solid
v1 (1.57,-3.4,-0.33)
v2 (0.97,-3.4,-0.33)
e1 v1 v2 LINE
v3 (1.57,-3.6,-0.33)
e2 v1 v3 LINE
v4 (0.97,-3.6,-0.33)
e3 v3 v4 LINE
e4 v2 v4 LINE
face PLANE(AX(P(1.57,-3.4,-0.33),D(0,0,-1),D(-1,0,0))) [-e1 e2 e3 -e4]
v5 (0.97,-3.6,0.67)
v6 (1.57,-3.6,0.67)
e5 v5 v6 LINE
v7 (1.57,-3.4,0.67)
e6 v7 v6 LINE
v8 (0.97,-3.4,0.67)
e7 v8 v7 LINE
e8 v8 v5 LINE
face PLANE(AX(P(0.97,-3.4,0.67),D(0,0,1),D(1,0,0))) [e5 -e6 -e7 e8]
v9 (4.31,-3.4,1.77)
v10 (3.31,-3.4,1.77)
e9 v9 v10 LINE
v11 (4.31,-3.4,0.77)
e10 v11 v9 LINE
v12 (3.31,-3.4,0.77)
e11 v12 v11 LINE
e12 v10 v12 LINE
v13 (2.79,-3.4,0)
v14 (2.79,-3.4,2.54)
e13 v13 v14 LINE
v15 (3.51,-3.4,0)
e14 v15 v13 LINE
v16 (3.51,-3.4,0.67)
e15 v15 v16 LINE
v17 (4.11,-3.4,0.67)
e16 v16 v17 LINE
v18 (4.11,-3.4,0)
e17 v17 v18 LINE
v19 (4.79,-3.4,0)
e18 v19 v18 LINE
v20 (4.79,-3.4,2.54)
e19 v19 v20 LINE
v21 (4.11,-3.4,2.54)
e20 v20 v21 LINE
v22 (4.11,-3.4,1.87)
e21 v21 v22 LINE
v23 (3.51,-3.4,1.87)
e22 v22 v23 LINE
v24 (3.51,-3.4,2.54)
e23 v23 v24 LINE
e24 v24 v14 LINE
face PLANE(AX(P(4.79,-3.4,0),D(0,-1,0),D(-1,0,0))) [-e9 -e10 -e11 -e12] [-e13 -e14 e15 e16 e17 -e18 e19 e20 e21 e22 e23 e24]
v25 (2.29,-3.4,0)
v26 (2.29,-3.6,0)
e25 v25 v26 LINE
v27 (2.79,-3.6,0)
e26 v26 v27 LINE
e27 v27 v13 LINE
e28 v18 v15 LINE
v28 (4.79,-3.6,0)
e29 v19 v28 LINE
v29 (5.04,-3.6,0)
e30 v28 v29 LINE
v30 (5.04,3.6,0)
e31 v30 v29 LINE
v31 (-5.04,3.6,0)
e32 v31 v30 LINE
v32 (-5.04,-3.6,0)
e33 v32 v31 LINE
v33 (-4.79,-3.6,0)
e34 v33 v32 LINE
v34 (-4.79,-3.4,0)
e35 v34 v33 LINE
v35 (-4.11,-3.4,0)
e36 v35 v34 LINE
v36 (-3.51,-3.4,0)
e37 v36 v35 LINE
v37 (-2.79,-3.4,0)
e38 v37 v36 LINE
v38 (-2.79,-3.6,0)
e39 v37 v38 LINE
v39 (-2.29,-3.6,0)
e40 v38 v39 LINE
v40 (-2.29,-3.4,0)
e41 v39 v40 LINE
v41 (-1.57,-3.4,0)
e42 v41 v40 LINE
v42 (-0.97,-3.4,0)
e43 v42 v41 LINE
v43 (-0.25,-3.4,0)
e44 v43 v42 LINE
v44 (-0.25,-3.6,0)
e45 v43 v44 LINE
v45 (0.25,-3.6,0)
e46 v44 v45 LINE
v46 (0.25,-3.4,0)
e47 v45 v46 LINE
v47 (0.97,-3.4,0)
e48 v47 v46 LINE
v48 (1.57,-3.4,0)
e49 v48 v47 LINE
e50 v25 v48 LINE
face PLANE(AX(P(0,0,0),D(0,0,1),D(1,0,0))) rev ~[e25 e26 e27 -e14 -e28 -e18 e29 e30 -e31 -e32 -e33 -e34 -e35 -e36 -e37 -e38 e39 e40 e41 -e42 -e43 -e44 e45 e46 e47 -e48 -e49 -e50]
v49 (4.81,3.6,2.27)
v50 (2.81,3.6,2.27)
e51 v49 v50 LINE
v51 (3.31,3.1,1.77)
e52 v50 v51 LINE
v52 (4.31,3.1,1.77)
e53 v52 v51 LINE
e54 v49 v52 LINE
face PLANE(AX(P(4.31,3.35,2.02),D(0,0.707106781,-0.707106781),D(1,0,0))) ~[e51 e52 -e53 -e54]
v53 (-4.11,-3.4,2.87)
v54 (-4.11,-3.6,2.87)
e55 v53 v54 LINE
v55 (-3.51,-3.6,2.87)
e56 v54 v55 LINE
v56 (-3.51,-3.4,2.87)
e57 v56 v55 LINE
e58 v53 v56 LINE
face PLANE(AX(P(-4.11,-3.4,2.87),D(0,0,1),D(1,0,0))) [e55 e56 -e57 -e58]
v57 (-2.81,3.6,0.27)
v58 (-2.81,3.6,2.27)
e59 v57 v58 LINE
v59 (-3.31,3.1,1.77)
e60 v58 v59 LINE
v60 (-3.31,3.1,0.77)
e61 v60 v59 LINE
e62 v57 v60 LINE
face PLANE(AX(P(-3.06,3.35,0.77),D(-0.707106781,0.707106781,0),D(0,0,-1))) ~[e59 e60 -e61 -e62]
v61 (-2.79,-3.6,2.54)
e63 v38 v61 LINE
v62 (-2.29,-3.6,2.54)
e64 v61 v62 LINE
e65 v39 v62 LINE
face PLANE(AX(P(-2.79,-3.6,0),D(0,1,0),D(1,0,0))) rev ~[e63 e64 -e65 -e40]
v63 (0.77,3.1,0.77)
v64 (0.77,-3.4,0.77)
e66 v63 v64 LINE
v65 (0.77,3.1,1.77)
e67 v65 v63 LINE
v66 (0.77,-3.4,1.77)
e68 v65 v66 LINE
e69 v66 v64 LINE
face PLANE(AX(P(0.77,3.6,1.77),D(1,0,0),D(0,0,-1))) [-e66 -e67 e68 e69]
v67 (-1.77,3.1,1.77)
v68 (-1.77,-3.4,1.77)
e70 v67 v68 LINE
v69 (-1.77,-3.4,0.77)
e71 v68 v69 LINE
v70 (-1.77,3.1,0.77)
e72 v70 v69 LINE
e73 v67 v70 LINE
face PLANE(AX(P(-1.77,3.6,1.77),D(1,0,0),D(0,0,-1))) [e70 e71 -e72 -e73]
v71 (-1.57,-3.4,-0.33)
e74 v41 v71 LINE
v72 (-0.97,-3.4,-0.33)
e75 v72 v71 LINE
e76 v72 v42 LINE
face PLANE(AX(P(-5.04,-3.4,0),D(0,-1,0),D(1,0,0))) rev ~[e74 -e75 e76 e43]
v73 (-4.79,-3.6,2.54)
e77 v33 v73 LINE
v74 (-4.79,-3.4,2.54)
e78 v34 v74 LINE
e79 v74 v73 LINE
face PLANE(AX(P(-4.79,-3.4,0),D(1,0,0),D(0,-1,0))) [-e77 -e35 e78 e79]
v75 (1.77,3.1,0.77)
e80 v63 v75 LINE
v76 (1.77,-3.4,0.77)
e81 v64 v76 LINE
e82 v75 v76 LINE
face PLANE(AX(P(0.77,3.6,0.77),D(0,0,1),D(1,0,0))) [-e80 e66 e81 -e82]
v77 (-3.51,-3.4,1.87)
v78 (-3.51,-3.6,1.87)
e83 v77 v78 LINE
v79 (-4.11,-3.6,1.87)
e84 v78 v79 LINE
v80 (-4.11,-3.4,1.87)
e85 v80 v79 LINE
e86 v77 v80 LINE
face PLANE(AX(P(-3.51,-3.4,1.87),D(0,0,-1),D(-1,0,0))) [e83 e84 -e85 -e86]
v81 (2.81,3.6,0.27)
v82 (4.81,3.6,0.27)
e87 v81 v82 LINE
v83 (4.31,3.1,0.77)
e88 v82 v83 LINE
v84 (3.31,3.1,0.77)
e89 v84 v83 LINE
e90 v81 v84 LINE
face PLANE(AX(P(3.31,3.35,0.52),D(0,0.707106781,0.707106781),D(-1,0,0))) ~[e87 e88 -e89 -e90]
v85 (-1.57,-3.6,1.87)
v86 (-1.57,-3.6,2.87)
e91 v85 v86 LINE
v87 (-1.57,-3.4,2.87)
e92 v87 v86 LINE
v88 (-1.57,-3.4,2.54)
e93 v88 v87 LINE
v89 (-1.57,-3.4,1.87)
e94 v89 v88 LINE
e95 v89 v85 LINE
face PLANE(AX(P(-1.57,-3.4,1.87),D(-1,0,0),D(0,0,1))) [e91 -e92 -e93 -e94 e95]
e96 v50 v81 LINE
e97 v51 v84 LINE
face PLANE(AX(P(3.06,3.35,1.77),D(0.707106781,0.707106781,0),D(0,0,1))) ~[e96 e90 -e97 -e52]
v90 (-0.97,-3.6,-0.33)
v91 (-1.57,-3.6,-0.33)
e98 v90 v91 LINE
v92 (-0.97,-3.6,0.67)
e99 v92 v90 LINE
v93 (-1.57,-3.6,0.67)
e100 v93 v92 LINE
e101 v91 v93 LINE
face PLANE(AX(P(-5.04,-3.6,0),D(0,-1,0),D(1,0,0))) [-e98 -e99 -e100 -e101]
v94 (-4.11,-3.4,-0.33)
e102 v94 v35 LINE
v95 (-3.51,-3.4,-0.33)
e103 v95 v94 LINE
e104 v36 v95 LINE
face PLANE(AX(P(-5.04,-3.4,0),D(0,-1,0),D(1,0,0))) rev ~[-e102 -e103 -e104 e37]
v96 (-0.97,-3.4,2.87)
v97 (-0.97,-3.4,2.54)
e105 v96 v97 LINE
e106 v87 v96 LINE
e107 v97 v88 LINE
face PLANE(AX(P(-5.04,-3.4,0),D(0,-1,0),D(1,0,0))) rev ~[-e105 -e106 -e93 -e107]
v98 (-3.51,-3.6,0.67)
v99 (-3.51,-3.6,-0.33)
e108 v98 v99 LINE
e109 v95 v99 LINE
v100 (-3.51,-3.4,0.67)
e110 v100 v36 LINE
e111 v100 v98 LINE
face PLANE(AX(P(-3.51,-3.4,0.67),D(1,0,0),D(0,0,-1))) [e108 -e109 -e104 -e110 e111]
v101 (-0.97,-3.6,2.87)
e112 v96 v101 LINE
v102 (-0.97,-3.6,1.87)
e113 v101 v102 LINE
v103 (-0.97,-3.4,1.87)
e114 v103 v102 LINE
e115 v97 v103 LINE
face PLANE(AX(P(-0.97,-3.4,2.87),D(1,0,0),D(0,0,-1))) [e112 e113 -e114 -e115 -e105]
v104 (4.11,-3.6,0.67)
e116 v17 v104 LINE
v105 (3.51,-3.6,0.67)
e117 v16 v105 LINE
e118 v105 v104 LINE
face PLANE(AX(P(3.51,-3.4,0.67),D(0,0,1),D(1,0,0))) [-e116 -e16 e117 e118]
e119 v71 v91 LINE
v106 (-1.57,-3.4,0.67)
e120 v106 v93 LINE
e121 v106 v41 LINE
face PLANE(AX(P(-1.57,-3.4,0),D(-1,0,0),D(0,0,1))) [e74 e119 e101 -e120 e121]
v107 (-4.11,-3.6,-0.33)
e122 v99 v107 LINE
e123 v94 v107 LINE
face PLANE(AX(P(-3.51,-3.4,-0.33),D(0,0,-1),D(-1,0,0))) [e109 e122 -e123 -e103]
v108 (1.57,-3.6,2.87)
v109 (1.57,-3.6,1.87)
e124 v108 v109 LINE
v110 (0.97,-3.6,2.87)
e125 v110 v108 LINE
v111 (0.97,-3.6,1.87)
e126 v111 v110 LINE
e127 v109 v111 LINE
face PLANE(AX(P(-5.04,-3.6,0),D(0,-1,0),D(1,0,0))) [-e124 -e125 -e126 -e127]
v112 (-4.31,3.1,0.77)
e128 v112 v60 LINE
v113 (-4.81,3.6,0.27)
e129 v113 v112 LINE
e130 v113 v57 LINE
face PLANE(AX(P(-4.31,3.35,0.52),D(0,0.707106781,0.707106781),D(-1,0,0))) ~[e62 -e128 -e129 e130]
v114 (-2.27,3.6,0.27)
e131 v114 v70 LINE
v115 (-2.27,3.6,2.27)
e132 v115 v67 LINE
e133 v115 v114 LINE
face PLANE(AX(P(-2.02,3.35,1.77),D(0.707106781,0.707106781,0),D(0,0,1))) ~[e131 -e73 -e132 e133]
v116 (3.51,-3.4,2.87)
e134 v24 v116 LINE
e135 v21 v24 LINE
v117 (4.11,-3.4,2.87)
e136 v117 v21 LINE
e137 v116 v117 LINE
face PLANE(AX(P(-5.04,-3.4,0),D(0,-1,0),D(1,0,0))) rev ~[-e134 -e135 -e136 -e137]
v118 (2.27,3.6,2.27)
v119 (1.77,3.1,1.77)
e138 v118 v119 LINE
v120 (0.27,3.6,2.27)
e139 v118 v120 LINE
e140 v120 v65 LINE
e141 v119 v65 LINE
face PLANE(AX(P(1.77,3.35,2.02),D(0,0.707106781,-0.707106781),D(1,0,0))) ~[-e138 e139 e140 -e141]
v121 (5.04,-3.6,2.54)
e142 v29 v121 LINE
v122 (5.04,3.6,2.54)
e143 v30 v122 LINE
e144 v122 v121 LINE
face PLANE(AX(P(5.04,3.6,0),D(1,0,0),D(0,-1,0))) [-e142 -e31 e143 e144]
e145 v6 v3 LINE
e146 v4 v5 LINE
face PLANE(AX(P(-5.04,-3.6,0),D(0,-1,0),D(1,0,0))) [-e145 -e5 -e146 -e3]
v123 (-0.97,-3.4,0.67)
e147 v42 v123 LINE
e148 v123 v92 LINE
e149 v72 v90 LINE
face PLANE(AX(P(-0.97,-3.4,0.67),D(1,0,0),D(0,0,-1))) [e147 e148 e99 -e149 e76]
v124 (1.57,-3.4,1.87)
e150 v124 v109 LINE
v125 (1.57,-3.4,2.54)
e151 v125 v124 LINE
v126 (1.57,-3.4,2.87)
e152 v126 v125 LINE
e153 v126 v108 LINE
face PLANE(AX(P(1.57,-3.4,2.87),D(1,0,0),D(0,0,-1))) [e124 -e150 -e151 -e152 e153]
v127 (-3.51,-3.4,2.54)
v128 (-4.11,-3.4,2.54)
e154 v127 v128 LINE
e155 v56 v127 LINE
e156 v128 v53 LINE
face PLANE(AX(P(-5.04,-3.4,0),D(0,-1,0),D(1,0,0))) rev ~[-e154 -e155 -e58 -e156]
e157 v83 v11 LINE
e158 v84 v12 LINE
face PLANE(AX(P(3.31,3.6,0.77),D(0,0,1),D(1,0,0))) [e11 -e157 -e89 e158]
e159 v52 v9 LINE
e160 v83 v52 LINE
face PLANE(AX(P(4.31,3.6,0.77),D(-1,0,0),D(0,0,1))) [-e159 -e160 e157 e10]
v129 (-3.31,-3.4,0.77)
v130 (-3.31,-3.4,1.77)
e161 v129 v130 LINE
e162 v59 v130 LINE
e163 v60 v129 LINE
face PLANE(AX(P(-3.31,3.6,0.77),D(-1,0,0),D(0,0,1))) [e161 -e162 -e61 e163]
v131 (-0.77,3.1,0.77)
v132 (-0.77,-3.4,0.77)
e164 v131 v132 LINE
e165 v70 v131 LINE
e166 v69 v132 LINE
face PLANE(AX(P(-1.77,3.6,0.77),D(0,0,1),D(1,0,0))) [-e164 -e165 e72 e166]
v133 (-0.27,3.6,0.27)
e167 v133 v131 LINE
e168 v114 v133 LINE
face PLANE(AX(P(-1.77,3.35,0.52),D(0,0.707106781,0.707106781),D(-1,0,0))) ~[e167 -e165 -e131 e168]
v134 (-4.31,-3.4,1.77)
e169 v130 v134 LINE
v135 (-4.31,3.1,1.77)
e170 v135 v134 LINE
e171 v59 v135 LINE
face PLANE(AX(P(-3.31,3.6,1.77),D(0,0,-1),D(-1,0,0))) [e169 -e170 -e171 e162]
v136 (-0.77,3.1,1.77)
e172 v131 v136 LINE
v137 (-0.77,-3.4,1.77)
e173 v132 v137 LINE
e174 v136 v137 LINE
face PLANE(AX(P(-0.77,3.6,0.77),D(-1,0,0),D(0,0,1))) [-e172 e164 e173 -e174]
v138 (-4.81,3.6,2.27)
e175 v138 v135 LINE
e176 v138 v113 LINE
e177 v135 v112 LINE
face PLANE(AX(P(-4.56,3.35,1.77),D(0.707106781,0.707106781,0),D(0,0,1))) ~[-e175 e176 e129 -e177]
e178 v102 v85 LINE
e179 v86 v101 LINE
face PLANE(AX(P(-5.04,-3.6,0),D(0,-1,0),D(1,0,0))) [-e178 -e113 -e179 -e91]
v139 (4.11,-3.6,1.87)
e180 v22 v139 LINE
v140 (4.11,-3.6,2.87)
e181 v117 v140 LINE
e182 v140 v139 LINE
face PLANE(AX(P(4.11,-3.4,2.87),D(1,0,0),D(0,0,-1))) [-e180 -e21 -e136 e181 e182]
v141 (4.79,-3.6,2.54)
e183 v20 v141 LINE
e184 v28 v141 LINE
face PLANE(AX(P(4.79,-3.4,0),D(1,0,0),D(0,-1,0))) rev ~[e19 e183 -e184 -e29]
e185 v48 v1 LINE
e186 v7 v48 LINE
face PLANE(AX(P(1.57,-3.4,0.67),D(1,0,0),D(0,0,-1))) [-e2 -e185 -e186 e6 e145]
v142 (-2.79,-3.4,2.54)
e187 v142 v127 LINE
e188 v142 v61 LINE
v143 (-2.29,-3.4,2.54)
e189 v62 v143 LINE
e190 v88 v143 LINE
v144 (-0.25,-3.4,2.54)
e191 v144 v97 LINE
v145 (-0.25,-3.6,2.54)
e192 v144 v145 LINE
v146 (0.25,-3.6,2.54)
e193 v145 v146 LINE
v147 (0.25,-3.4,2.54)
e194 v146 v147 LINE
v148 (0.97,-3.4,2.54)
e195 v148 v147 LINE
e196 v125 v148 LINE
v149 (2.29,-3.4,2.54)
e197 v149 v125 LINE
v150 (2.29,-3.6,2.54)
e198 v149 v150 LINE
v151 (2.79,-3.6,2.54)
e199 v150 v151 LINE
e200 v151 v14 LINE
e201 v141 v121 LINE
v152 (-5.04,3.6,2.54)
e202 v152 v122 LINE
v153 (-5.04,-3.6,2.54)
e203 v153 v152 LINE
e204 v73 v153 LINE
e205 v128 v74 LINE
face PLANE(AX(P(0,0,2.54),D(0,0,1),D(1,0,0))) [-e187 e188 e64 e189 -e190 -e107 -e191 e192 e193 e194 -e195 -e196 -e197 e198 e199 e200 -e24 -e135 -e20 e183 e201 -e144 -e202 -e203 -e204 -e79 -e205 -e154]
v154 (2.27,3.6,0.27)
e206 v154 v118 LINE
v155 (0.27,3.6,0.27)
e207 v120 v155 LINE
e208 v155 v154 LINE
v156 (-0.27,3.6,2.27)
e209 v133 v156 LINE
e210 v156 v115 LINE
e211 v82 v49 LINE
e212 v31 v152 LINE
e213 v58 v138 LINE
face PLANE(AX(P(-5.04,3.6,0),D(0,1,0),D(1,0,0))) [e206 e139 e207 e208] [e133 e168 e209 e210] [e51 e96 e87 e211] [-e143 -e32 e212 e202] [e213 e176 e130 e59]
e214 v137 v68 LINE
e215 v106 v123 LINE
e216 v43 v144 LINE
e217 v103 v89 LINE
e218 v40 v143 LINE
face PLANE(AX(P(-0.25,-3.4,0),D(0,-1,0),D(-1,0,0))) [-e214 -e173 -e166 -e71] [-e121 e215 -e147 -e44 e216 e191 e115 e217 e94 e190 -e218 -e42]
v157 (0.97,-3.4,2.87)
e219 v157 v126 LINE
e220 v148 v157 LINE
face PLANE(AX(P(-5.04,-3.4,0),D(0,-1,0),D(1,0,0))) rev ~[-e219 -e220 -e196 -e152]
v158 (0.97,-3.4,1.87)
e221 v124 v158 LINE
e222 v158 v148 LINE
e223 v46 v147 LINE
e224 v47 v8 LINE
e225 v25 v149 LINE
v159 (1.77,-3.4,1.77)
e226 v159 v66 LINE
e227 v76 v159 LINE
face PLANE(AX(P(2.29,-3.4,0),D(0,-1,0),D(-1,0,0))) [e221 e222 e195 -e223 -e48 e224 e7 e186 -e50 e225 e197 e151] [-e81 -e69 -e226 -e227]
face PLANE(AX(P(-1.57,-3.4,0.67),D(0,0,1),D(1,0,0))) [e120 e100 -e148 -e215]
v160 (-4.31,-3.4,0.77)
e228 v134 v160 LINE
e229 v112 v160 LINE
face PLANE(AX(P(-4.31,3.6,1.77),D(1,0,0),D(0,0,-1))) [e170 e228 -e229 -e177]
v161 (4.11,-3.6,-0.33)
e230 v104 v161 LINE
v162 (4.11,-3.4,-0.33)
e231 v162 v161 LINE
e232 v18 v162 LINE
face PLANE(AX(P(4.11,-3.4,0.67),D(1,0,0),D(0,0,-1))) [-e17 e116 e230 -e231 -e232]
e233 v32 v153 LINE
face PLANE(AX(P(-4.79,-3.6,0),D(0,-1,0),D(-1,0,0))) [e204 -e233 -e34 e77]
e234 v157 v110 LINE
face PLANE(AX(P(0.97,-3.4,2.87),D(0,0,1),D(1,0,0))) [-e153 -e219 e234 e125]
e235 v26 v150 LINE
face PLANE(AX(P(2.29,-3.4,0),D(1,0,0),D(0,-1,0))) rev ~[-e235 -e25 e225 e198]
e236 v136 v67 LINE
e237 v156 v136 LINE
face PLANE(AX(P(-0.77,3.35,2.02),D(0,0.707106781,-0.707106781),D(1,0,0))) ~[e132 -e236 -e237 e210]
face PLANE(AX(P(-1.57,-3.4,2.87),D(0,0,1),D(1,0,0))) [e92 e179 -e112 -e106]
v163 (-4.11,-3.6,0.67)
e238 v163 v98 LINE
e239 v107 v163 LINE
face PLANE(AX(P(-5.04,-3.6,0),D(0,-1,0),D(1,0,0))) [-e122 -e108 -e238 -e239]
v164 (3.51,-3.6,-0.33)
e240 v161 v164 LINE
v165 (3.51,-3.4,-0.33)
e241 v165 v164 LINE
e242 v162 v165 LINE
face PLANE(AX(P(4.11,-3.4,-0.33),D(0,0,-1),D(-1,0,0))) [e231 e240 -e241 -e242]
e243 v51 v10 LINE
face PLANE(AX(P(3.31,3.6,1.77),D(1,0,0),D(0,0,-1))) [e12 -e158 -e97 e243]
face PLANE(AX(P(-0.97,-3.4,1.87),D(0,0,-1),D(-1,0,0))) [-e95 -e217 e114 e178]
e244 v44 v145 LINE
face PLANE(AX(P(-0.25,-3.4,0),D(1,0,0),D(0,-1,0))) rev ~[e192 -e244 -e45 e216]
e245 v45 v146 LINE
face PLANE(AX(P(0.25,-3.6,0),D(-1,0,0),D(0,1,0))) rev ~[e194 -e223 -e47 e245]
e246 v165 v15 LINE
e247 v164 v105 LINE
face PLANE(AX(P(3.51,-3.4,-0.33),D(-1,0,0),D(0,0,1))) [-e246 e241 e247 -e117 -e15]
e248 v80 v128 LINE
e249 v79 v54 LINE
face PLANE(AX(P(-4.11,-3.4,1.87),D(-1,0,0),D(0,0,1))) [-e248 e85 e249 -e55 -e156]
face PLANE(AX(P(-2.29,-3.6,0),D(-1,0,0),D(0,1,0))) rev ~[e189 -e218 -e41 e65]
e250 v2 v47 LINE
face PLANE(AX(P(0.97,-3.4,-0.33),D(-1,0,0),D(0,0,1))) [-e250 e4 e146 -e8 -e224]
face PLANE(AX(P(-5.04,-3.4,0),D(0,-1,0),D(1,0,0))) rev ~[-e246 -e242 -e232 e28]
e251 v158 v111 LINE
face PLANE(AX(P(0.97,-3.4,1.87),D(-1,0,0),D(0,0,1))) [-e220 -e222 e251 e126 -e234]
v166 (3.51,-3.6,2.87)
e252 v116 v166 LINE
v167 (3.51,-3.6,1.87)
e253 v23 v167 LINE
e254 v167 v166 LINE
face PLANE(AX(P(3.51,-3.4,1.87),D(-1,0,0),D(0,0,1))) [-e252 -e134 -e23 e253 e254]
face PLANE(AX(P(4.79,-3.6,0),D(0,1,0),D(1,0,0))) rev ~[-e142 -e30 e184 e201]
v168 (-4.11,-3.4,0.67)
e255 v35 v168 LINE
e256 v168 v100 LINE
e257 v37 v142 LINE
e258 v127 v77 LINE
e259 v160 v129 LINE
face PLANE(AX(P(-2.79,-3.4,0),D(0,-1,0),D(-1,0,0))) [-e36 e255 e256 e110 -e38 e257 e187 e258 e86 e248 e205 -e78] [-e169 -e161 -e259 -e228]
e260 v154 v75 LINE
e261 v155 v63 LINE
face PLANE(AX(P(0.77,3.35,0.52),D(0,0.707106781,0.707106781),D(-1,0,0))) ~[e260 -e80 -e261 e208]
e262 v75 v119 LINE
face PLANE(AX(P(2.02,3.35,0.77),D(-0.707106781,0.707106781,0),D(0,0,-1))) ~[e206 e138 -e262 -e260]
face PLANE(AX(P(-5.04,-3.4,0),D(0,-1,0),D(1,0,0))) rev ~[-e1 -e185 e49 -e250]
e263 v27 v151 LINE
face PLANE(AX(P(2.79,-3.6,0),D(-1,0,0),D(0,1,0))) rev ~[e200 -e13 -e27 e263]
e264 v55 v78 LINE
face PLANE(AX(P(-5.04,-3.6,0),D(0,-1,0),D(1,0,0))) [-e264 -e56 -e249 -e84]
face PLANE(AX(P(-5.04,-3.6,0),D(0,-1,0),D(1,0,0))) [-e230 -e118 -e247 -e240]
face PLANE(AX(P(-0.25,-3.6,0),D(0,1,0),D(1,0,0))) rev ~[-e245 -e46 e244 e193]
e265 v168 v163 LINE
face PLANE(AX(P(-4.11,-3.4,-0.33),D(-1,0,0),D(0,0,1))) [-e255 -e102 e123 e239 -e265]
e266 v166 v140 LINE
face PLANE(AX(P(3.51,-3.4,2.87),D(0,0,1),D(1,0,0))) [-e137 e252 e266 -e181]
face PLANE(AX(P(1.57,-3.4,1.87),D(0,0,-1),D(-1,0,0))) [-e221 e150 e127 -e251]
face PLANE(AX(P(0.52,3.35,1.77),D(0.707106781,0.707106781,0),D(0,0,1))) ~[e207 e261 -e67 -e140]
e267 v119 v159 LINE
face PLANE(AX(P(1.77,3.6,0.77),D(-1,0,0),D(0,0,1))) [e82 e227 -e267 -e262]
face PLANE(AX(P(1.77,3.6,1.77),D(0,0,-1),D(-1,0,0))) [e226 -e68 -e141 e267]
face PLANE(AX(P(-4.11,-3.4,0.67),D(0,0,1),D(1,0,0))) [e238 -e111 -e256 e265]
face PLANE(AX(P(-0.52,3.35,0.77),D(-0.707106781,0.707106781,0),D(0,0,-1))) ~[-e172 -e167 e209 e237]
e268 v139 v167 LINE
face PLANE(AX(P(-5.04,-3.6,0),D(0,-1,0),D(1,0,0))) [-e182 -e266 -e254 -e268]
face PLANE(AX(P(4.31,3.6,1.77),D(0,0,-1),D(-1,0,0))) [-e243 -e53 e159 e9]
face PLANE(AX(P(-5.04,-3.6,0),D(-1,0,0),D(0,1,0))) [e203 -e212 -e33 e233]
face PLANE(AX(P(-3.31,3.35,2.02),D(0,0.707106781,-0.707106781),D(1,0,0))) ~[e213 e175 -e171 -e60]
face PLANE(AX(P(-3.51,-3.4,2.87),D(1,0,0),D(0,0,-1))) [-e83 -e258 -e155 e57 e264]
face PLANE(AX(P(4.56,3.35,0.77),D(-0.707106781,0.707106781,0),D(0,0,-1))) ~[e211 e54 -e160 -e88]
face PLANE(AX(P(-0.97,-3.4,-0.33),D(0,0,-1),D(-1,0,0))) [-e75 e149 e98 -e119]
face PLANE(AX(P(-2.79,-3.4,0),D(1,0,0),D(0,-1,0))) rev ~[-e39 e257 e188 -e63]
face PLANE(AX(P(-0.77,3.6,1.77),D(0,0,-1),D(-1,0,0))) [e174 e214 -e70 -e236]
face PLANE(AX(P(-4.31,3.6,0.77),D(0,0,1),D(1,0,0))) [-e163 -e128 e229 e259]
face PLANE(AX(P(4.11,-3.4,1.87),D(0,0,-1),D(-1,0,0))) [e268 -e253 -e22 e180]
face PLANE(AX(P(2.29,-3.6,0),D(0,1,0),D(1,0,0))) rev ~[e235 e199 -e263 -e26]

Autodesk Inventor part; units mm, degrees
ref_plane "YZ Plane" through (0, 0, 0) normal (1, 0, 0) x (0, 1, 0)
ref_plane "XZ Plane" through (0, 0, 0) normal (0, 1, 0) x (-1, 0, 0)
ref_plane "XY Plane" through (0, 0, 0) normal (0, 0, 1) x (1, 0, 0)
sketch "Sketch1" plane through (0, 0, 0) normal (0, 0, 1) x (1, 0, 0)
  line L0 (-5.04, 3.6) -> (5.04, 3.6)
  line L1 (5.04, 3.6) -> (5.04, -3.6)
  line L2 (-5.04, -3.6) -> (-5.04, 3.6)
  line L3 (-2.79, -3.4) -> (-2.79, -3.6)
  line L4 (-2.79, -3.6) -> (-2.29, -3.6)
  line L5 (-2.29, -3.6) -> (-2.29, -3.4)
  line L6 (-0.25, -3.4) -> (-0.25, -3.6)
  line L7 (-0.25, -3.6) -> (0.25, -3.6)
  line L8 (0.25, -3.6) -> (0.25, -3.4)
  line L9 (2.29, -3.4) -> (2.29, -3.6)
  line L10 (2.29, -3.6) -> (2.79, -3.6)
  line L11 (2.79, -3.6) -> (2.79, -3.4)
  line L12 (-2.79, -3.4) -> (-4.79, -3.4)
  line L13 (-0.25, -3.4) -> (-2.29, -3.4)
  line L14 (4.79, -3.4) -> (2.79, -3.4)
  line L15 (2.29, -3.4) -> (0.25, -3.4)
  line L16 (0, 1.3653) -> (0, -1.7187) construction
  line L17 (-4.79, -3.4) -> (-4.79, -3.6)
  line L18 (-4.79, -3.6) -> (-5.04, -3.6)
  line L19 (4.79, -3.4) -> (4.79, -3.6)
  line L20 (4.79, -3.6) -> (5.04, -3.6)
  point P0 (0, 0)
  point P1 (0, 3.6)
  point P2 (-5.04, 0)
  point P3 (0, -3.6)
  point P4 (-2.54, -3.6)
  point P5 (-2.54, -3.6)
  point P6 (5.04, 0)
  dimension "d0" = 0.5
  dimension "d1" = 0.2
  dimension "d3" = 10.08
  dimension "d4" = 2.54
  dimension "d20" = 7
  dimension "d21" = 0.25
extrude "Extrusion1" add sketch "Sketch1" along normal blind 2.54
sketch "Sketch3" plane through (-5.04, -3.4, 0) normal (0, -1, 0) x (1, 0, 0)
  line L0 (0.93, 2.87) -> (1.53, 2.87)
  line L1 (1.53, 2.87) -> (1.53, 1.87)
  line L2 (1.53, 1.87) -> (0.93, 1.87)
  line L3 (0.93, 1.87) -> (0.93, 2.87)
  line L4 (0.93, 0.67) -> (1.53, 0.67)
  line L5 (1.53, 0.67) -> (1.53, -0.33)
  line L6 (1.53, -0.33) -> (0.93, -0.33)
  line L7 (0.93, -0.33) -> (0.93, 0.67)
  line L8 (3.47, 2.87) -> (4.07, 2.87)
  line L9 (4.07, 2.87) -> (4.07, 1.87)
  line L10 (4.07, 1.87) -> (3.47, 1.87)
  line L11 (3.47, 1.87) -> (3.47, 2.87)
  line L12 (3.47, 0.67) -> (4.07, 0.67)
  line L13 (4.07, 0.67) -> (4.07, -0.33)
  line L14 (4.07, -0.33) -> (3.47, -0.33)
  line L15 (3.47, -0.33) -> (3.47, 0.67)
  line L16 (6.01, 2.87) -> (6.61, 2.87)
  line L17 (6.61, 2.87) -> (6.61, 1.87)
  line L18 (6.61, 1.87) -> (6.01, 1.87)
  line L19 (6.01, 1.87) -> (6.01, 2.87)
  line L20 (6.01, 0.67) -> (6.61, 0.67)
  line L21 (6.61, 0.67) -> (6.61, -0.33)
  line L22 (6.61, -0.33) -> (6.01, -0.33)
  line L23 (6.01, -0.33) -> (6.01, 0.67)
  line L24 (8.55, 2.87) -> (9.15, 2.87)
  line L25 (9.15, 2.87) -> (9.15, 1.87)
  line L26 (9.15, 1.87) -> (8.55, 1.87)
  line L27 (8.55, 1.87) -> (8.55, 2.87)
  line L28 (8.55, 0.67) -> (9.15, 0.67)
  line L29 (9.15, 0.67) -> (9.15, -0.33)
  line L30 (9.15, -0.33) -> (8.55, -0.33)
  line L31 (8.55, -0.33) -> (8.55, 0.67)
  line L32 (4.79, 0) -> (2.75, 0) projected
  line L33 (6.0777, 1.27) -> (8.8799, 1.27) construction
  line L34 (0, 0) -> (0, 2.54) projected
  line L35 (0, 0) -> (0, 2.54) projected
  point P0 (5.04, 0)
  point P1 (1.23, -0.33)
  point P2 (3.77, -0.33)
  point P3 (6.31, -0.33)
  point P4 (8.85, -0.33)
  point P5 (3.77, -0.33)
  point P6 (1.23, -0.33)
  point P7 (6.31, -0.33)
  point P8 (8.85, -0.33)
  point P9 (3.77, 0)
  point P10 (0, 1.27)
  dimension "d11" = 3.2
  dimension "d12" = 0.6
  dimension "d13" = 2.54
  dimension "d14" = 2.54
  dimension "d15" = 2.54
  dimension "d16" = 1
extrude "Extrusion3" add sketch "Sketch3" along normal blind 0.2
sketch "Sketch5" plane through (-5.04, 3.6, 0) normal (0, 1, 0) x (1, 0, 0)
  line L0 (0, 0) -> (10.08, 0) projected
  line L1 (0, 0) -> (0, -2.54) projected
  line L2 (10.08, -2.54) -> (0, -2.54) projected
  line L3 (10.08, 0) -> (10.08, -2.54) projected
  line L4 (0.73, -0.77) -> (1.73, -0.77)
  line L5 (1.73, -0.77) -> (1.73, -1.77)
  line L6 (1.73, -1.77) -> (0.73, -1.77)
  line L7 (0.73, -1.77) -> (0.73, -0.77)
  line L8 (1.53, 0.33) -> (0.93, 0.33) projected
  point P0 (5.04, 0)
  point P1 (0.73, -1.27)
  point P2 (0, -1.27)
  point P3 (1.23, -0.77)
  point P4 (1.23, 0.33)
  dimension "d23" = 1
extrude "Extrusion4" cut sketch "Sketch5" against normal blind 7 contours L4 L5 L6 L7
chamfer "Chamfer1" distance 0.5 angle 45 4 edges at (-3.81, 3.6, 0.77) (-3.31, 3.6, 1.27) (-4.31, 3.6, 1.27) (-3.81, 3.6, 1.77)
pattern_linear "Rectangular Pattern1" count 4 spacing 2.54 along (1, 0, 0) of "Extrusion4", "Chamfer1"
equation "\"d14\" = d13"
equation "\"d15\" = d13"
properties part number "fciconnect-91601-304"
